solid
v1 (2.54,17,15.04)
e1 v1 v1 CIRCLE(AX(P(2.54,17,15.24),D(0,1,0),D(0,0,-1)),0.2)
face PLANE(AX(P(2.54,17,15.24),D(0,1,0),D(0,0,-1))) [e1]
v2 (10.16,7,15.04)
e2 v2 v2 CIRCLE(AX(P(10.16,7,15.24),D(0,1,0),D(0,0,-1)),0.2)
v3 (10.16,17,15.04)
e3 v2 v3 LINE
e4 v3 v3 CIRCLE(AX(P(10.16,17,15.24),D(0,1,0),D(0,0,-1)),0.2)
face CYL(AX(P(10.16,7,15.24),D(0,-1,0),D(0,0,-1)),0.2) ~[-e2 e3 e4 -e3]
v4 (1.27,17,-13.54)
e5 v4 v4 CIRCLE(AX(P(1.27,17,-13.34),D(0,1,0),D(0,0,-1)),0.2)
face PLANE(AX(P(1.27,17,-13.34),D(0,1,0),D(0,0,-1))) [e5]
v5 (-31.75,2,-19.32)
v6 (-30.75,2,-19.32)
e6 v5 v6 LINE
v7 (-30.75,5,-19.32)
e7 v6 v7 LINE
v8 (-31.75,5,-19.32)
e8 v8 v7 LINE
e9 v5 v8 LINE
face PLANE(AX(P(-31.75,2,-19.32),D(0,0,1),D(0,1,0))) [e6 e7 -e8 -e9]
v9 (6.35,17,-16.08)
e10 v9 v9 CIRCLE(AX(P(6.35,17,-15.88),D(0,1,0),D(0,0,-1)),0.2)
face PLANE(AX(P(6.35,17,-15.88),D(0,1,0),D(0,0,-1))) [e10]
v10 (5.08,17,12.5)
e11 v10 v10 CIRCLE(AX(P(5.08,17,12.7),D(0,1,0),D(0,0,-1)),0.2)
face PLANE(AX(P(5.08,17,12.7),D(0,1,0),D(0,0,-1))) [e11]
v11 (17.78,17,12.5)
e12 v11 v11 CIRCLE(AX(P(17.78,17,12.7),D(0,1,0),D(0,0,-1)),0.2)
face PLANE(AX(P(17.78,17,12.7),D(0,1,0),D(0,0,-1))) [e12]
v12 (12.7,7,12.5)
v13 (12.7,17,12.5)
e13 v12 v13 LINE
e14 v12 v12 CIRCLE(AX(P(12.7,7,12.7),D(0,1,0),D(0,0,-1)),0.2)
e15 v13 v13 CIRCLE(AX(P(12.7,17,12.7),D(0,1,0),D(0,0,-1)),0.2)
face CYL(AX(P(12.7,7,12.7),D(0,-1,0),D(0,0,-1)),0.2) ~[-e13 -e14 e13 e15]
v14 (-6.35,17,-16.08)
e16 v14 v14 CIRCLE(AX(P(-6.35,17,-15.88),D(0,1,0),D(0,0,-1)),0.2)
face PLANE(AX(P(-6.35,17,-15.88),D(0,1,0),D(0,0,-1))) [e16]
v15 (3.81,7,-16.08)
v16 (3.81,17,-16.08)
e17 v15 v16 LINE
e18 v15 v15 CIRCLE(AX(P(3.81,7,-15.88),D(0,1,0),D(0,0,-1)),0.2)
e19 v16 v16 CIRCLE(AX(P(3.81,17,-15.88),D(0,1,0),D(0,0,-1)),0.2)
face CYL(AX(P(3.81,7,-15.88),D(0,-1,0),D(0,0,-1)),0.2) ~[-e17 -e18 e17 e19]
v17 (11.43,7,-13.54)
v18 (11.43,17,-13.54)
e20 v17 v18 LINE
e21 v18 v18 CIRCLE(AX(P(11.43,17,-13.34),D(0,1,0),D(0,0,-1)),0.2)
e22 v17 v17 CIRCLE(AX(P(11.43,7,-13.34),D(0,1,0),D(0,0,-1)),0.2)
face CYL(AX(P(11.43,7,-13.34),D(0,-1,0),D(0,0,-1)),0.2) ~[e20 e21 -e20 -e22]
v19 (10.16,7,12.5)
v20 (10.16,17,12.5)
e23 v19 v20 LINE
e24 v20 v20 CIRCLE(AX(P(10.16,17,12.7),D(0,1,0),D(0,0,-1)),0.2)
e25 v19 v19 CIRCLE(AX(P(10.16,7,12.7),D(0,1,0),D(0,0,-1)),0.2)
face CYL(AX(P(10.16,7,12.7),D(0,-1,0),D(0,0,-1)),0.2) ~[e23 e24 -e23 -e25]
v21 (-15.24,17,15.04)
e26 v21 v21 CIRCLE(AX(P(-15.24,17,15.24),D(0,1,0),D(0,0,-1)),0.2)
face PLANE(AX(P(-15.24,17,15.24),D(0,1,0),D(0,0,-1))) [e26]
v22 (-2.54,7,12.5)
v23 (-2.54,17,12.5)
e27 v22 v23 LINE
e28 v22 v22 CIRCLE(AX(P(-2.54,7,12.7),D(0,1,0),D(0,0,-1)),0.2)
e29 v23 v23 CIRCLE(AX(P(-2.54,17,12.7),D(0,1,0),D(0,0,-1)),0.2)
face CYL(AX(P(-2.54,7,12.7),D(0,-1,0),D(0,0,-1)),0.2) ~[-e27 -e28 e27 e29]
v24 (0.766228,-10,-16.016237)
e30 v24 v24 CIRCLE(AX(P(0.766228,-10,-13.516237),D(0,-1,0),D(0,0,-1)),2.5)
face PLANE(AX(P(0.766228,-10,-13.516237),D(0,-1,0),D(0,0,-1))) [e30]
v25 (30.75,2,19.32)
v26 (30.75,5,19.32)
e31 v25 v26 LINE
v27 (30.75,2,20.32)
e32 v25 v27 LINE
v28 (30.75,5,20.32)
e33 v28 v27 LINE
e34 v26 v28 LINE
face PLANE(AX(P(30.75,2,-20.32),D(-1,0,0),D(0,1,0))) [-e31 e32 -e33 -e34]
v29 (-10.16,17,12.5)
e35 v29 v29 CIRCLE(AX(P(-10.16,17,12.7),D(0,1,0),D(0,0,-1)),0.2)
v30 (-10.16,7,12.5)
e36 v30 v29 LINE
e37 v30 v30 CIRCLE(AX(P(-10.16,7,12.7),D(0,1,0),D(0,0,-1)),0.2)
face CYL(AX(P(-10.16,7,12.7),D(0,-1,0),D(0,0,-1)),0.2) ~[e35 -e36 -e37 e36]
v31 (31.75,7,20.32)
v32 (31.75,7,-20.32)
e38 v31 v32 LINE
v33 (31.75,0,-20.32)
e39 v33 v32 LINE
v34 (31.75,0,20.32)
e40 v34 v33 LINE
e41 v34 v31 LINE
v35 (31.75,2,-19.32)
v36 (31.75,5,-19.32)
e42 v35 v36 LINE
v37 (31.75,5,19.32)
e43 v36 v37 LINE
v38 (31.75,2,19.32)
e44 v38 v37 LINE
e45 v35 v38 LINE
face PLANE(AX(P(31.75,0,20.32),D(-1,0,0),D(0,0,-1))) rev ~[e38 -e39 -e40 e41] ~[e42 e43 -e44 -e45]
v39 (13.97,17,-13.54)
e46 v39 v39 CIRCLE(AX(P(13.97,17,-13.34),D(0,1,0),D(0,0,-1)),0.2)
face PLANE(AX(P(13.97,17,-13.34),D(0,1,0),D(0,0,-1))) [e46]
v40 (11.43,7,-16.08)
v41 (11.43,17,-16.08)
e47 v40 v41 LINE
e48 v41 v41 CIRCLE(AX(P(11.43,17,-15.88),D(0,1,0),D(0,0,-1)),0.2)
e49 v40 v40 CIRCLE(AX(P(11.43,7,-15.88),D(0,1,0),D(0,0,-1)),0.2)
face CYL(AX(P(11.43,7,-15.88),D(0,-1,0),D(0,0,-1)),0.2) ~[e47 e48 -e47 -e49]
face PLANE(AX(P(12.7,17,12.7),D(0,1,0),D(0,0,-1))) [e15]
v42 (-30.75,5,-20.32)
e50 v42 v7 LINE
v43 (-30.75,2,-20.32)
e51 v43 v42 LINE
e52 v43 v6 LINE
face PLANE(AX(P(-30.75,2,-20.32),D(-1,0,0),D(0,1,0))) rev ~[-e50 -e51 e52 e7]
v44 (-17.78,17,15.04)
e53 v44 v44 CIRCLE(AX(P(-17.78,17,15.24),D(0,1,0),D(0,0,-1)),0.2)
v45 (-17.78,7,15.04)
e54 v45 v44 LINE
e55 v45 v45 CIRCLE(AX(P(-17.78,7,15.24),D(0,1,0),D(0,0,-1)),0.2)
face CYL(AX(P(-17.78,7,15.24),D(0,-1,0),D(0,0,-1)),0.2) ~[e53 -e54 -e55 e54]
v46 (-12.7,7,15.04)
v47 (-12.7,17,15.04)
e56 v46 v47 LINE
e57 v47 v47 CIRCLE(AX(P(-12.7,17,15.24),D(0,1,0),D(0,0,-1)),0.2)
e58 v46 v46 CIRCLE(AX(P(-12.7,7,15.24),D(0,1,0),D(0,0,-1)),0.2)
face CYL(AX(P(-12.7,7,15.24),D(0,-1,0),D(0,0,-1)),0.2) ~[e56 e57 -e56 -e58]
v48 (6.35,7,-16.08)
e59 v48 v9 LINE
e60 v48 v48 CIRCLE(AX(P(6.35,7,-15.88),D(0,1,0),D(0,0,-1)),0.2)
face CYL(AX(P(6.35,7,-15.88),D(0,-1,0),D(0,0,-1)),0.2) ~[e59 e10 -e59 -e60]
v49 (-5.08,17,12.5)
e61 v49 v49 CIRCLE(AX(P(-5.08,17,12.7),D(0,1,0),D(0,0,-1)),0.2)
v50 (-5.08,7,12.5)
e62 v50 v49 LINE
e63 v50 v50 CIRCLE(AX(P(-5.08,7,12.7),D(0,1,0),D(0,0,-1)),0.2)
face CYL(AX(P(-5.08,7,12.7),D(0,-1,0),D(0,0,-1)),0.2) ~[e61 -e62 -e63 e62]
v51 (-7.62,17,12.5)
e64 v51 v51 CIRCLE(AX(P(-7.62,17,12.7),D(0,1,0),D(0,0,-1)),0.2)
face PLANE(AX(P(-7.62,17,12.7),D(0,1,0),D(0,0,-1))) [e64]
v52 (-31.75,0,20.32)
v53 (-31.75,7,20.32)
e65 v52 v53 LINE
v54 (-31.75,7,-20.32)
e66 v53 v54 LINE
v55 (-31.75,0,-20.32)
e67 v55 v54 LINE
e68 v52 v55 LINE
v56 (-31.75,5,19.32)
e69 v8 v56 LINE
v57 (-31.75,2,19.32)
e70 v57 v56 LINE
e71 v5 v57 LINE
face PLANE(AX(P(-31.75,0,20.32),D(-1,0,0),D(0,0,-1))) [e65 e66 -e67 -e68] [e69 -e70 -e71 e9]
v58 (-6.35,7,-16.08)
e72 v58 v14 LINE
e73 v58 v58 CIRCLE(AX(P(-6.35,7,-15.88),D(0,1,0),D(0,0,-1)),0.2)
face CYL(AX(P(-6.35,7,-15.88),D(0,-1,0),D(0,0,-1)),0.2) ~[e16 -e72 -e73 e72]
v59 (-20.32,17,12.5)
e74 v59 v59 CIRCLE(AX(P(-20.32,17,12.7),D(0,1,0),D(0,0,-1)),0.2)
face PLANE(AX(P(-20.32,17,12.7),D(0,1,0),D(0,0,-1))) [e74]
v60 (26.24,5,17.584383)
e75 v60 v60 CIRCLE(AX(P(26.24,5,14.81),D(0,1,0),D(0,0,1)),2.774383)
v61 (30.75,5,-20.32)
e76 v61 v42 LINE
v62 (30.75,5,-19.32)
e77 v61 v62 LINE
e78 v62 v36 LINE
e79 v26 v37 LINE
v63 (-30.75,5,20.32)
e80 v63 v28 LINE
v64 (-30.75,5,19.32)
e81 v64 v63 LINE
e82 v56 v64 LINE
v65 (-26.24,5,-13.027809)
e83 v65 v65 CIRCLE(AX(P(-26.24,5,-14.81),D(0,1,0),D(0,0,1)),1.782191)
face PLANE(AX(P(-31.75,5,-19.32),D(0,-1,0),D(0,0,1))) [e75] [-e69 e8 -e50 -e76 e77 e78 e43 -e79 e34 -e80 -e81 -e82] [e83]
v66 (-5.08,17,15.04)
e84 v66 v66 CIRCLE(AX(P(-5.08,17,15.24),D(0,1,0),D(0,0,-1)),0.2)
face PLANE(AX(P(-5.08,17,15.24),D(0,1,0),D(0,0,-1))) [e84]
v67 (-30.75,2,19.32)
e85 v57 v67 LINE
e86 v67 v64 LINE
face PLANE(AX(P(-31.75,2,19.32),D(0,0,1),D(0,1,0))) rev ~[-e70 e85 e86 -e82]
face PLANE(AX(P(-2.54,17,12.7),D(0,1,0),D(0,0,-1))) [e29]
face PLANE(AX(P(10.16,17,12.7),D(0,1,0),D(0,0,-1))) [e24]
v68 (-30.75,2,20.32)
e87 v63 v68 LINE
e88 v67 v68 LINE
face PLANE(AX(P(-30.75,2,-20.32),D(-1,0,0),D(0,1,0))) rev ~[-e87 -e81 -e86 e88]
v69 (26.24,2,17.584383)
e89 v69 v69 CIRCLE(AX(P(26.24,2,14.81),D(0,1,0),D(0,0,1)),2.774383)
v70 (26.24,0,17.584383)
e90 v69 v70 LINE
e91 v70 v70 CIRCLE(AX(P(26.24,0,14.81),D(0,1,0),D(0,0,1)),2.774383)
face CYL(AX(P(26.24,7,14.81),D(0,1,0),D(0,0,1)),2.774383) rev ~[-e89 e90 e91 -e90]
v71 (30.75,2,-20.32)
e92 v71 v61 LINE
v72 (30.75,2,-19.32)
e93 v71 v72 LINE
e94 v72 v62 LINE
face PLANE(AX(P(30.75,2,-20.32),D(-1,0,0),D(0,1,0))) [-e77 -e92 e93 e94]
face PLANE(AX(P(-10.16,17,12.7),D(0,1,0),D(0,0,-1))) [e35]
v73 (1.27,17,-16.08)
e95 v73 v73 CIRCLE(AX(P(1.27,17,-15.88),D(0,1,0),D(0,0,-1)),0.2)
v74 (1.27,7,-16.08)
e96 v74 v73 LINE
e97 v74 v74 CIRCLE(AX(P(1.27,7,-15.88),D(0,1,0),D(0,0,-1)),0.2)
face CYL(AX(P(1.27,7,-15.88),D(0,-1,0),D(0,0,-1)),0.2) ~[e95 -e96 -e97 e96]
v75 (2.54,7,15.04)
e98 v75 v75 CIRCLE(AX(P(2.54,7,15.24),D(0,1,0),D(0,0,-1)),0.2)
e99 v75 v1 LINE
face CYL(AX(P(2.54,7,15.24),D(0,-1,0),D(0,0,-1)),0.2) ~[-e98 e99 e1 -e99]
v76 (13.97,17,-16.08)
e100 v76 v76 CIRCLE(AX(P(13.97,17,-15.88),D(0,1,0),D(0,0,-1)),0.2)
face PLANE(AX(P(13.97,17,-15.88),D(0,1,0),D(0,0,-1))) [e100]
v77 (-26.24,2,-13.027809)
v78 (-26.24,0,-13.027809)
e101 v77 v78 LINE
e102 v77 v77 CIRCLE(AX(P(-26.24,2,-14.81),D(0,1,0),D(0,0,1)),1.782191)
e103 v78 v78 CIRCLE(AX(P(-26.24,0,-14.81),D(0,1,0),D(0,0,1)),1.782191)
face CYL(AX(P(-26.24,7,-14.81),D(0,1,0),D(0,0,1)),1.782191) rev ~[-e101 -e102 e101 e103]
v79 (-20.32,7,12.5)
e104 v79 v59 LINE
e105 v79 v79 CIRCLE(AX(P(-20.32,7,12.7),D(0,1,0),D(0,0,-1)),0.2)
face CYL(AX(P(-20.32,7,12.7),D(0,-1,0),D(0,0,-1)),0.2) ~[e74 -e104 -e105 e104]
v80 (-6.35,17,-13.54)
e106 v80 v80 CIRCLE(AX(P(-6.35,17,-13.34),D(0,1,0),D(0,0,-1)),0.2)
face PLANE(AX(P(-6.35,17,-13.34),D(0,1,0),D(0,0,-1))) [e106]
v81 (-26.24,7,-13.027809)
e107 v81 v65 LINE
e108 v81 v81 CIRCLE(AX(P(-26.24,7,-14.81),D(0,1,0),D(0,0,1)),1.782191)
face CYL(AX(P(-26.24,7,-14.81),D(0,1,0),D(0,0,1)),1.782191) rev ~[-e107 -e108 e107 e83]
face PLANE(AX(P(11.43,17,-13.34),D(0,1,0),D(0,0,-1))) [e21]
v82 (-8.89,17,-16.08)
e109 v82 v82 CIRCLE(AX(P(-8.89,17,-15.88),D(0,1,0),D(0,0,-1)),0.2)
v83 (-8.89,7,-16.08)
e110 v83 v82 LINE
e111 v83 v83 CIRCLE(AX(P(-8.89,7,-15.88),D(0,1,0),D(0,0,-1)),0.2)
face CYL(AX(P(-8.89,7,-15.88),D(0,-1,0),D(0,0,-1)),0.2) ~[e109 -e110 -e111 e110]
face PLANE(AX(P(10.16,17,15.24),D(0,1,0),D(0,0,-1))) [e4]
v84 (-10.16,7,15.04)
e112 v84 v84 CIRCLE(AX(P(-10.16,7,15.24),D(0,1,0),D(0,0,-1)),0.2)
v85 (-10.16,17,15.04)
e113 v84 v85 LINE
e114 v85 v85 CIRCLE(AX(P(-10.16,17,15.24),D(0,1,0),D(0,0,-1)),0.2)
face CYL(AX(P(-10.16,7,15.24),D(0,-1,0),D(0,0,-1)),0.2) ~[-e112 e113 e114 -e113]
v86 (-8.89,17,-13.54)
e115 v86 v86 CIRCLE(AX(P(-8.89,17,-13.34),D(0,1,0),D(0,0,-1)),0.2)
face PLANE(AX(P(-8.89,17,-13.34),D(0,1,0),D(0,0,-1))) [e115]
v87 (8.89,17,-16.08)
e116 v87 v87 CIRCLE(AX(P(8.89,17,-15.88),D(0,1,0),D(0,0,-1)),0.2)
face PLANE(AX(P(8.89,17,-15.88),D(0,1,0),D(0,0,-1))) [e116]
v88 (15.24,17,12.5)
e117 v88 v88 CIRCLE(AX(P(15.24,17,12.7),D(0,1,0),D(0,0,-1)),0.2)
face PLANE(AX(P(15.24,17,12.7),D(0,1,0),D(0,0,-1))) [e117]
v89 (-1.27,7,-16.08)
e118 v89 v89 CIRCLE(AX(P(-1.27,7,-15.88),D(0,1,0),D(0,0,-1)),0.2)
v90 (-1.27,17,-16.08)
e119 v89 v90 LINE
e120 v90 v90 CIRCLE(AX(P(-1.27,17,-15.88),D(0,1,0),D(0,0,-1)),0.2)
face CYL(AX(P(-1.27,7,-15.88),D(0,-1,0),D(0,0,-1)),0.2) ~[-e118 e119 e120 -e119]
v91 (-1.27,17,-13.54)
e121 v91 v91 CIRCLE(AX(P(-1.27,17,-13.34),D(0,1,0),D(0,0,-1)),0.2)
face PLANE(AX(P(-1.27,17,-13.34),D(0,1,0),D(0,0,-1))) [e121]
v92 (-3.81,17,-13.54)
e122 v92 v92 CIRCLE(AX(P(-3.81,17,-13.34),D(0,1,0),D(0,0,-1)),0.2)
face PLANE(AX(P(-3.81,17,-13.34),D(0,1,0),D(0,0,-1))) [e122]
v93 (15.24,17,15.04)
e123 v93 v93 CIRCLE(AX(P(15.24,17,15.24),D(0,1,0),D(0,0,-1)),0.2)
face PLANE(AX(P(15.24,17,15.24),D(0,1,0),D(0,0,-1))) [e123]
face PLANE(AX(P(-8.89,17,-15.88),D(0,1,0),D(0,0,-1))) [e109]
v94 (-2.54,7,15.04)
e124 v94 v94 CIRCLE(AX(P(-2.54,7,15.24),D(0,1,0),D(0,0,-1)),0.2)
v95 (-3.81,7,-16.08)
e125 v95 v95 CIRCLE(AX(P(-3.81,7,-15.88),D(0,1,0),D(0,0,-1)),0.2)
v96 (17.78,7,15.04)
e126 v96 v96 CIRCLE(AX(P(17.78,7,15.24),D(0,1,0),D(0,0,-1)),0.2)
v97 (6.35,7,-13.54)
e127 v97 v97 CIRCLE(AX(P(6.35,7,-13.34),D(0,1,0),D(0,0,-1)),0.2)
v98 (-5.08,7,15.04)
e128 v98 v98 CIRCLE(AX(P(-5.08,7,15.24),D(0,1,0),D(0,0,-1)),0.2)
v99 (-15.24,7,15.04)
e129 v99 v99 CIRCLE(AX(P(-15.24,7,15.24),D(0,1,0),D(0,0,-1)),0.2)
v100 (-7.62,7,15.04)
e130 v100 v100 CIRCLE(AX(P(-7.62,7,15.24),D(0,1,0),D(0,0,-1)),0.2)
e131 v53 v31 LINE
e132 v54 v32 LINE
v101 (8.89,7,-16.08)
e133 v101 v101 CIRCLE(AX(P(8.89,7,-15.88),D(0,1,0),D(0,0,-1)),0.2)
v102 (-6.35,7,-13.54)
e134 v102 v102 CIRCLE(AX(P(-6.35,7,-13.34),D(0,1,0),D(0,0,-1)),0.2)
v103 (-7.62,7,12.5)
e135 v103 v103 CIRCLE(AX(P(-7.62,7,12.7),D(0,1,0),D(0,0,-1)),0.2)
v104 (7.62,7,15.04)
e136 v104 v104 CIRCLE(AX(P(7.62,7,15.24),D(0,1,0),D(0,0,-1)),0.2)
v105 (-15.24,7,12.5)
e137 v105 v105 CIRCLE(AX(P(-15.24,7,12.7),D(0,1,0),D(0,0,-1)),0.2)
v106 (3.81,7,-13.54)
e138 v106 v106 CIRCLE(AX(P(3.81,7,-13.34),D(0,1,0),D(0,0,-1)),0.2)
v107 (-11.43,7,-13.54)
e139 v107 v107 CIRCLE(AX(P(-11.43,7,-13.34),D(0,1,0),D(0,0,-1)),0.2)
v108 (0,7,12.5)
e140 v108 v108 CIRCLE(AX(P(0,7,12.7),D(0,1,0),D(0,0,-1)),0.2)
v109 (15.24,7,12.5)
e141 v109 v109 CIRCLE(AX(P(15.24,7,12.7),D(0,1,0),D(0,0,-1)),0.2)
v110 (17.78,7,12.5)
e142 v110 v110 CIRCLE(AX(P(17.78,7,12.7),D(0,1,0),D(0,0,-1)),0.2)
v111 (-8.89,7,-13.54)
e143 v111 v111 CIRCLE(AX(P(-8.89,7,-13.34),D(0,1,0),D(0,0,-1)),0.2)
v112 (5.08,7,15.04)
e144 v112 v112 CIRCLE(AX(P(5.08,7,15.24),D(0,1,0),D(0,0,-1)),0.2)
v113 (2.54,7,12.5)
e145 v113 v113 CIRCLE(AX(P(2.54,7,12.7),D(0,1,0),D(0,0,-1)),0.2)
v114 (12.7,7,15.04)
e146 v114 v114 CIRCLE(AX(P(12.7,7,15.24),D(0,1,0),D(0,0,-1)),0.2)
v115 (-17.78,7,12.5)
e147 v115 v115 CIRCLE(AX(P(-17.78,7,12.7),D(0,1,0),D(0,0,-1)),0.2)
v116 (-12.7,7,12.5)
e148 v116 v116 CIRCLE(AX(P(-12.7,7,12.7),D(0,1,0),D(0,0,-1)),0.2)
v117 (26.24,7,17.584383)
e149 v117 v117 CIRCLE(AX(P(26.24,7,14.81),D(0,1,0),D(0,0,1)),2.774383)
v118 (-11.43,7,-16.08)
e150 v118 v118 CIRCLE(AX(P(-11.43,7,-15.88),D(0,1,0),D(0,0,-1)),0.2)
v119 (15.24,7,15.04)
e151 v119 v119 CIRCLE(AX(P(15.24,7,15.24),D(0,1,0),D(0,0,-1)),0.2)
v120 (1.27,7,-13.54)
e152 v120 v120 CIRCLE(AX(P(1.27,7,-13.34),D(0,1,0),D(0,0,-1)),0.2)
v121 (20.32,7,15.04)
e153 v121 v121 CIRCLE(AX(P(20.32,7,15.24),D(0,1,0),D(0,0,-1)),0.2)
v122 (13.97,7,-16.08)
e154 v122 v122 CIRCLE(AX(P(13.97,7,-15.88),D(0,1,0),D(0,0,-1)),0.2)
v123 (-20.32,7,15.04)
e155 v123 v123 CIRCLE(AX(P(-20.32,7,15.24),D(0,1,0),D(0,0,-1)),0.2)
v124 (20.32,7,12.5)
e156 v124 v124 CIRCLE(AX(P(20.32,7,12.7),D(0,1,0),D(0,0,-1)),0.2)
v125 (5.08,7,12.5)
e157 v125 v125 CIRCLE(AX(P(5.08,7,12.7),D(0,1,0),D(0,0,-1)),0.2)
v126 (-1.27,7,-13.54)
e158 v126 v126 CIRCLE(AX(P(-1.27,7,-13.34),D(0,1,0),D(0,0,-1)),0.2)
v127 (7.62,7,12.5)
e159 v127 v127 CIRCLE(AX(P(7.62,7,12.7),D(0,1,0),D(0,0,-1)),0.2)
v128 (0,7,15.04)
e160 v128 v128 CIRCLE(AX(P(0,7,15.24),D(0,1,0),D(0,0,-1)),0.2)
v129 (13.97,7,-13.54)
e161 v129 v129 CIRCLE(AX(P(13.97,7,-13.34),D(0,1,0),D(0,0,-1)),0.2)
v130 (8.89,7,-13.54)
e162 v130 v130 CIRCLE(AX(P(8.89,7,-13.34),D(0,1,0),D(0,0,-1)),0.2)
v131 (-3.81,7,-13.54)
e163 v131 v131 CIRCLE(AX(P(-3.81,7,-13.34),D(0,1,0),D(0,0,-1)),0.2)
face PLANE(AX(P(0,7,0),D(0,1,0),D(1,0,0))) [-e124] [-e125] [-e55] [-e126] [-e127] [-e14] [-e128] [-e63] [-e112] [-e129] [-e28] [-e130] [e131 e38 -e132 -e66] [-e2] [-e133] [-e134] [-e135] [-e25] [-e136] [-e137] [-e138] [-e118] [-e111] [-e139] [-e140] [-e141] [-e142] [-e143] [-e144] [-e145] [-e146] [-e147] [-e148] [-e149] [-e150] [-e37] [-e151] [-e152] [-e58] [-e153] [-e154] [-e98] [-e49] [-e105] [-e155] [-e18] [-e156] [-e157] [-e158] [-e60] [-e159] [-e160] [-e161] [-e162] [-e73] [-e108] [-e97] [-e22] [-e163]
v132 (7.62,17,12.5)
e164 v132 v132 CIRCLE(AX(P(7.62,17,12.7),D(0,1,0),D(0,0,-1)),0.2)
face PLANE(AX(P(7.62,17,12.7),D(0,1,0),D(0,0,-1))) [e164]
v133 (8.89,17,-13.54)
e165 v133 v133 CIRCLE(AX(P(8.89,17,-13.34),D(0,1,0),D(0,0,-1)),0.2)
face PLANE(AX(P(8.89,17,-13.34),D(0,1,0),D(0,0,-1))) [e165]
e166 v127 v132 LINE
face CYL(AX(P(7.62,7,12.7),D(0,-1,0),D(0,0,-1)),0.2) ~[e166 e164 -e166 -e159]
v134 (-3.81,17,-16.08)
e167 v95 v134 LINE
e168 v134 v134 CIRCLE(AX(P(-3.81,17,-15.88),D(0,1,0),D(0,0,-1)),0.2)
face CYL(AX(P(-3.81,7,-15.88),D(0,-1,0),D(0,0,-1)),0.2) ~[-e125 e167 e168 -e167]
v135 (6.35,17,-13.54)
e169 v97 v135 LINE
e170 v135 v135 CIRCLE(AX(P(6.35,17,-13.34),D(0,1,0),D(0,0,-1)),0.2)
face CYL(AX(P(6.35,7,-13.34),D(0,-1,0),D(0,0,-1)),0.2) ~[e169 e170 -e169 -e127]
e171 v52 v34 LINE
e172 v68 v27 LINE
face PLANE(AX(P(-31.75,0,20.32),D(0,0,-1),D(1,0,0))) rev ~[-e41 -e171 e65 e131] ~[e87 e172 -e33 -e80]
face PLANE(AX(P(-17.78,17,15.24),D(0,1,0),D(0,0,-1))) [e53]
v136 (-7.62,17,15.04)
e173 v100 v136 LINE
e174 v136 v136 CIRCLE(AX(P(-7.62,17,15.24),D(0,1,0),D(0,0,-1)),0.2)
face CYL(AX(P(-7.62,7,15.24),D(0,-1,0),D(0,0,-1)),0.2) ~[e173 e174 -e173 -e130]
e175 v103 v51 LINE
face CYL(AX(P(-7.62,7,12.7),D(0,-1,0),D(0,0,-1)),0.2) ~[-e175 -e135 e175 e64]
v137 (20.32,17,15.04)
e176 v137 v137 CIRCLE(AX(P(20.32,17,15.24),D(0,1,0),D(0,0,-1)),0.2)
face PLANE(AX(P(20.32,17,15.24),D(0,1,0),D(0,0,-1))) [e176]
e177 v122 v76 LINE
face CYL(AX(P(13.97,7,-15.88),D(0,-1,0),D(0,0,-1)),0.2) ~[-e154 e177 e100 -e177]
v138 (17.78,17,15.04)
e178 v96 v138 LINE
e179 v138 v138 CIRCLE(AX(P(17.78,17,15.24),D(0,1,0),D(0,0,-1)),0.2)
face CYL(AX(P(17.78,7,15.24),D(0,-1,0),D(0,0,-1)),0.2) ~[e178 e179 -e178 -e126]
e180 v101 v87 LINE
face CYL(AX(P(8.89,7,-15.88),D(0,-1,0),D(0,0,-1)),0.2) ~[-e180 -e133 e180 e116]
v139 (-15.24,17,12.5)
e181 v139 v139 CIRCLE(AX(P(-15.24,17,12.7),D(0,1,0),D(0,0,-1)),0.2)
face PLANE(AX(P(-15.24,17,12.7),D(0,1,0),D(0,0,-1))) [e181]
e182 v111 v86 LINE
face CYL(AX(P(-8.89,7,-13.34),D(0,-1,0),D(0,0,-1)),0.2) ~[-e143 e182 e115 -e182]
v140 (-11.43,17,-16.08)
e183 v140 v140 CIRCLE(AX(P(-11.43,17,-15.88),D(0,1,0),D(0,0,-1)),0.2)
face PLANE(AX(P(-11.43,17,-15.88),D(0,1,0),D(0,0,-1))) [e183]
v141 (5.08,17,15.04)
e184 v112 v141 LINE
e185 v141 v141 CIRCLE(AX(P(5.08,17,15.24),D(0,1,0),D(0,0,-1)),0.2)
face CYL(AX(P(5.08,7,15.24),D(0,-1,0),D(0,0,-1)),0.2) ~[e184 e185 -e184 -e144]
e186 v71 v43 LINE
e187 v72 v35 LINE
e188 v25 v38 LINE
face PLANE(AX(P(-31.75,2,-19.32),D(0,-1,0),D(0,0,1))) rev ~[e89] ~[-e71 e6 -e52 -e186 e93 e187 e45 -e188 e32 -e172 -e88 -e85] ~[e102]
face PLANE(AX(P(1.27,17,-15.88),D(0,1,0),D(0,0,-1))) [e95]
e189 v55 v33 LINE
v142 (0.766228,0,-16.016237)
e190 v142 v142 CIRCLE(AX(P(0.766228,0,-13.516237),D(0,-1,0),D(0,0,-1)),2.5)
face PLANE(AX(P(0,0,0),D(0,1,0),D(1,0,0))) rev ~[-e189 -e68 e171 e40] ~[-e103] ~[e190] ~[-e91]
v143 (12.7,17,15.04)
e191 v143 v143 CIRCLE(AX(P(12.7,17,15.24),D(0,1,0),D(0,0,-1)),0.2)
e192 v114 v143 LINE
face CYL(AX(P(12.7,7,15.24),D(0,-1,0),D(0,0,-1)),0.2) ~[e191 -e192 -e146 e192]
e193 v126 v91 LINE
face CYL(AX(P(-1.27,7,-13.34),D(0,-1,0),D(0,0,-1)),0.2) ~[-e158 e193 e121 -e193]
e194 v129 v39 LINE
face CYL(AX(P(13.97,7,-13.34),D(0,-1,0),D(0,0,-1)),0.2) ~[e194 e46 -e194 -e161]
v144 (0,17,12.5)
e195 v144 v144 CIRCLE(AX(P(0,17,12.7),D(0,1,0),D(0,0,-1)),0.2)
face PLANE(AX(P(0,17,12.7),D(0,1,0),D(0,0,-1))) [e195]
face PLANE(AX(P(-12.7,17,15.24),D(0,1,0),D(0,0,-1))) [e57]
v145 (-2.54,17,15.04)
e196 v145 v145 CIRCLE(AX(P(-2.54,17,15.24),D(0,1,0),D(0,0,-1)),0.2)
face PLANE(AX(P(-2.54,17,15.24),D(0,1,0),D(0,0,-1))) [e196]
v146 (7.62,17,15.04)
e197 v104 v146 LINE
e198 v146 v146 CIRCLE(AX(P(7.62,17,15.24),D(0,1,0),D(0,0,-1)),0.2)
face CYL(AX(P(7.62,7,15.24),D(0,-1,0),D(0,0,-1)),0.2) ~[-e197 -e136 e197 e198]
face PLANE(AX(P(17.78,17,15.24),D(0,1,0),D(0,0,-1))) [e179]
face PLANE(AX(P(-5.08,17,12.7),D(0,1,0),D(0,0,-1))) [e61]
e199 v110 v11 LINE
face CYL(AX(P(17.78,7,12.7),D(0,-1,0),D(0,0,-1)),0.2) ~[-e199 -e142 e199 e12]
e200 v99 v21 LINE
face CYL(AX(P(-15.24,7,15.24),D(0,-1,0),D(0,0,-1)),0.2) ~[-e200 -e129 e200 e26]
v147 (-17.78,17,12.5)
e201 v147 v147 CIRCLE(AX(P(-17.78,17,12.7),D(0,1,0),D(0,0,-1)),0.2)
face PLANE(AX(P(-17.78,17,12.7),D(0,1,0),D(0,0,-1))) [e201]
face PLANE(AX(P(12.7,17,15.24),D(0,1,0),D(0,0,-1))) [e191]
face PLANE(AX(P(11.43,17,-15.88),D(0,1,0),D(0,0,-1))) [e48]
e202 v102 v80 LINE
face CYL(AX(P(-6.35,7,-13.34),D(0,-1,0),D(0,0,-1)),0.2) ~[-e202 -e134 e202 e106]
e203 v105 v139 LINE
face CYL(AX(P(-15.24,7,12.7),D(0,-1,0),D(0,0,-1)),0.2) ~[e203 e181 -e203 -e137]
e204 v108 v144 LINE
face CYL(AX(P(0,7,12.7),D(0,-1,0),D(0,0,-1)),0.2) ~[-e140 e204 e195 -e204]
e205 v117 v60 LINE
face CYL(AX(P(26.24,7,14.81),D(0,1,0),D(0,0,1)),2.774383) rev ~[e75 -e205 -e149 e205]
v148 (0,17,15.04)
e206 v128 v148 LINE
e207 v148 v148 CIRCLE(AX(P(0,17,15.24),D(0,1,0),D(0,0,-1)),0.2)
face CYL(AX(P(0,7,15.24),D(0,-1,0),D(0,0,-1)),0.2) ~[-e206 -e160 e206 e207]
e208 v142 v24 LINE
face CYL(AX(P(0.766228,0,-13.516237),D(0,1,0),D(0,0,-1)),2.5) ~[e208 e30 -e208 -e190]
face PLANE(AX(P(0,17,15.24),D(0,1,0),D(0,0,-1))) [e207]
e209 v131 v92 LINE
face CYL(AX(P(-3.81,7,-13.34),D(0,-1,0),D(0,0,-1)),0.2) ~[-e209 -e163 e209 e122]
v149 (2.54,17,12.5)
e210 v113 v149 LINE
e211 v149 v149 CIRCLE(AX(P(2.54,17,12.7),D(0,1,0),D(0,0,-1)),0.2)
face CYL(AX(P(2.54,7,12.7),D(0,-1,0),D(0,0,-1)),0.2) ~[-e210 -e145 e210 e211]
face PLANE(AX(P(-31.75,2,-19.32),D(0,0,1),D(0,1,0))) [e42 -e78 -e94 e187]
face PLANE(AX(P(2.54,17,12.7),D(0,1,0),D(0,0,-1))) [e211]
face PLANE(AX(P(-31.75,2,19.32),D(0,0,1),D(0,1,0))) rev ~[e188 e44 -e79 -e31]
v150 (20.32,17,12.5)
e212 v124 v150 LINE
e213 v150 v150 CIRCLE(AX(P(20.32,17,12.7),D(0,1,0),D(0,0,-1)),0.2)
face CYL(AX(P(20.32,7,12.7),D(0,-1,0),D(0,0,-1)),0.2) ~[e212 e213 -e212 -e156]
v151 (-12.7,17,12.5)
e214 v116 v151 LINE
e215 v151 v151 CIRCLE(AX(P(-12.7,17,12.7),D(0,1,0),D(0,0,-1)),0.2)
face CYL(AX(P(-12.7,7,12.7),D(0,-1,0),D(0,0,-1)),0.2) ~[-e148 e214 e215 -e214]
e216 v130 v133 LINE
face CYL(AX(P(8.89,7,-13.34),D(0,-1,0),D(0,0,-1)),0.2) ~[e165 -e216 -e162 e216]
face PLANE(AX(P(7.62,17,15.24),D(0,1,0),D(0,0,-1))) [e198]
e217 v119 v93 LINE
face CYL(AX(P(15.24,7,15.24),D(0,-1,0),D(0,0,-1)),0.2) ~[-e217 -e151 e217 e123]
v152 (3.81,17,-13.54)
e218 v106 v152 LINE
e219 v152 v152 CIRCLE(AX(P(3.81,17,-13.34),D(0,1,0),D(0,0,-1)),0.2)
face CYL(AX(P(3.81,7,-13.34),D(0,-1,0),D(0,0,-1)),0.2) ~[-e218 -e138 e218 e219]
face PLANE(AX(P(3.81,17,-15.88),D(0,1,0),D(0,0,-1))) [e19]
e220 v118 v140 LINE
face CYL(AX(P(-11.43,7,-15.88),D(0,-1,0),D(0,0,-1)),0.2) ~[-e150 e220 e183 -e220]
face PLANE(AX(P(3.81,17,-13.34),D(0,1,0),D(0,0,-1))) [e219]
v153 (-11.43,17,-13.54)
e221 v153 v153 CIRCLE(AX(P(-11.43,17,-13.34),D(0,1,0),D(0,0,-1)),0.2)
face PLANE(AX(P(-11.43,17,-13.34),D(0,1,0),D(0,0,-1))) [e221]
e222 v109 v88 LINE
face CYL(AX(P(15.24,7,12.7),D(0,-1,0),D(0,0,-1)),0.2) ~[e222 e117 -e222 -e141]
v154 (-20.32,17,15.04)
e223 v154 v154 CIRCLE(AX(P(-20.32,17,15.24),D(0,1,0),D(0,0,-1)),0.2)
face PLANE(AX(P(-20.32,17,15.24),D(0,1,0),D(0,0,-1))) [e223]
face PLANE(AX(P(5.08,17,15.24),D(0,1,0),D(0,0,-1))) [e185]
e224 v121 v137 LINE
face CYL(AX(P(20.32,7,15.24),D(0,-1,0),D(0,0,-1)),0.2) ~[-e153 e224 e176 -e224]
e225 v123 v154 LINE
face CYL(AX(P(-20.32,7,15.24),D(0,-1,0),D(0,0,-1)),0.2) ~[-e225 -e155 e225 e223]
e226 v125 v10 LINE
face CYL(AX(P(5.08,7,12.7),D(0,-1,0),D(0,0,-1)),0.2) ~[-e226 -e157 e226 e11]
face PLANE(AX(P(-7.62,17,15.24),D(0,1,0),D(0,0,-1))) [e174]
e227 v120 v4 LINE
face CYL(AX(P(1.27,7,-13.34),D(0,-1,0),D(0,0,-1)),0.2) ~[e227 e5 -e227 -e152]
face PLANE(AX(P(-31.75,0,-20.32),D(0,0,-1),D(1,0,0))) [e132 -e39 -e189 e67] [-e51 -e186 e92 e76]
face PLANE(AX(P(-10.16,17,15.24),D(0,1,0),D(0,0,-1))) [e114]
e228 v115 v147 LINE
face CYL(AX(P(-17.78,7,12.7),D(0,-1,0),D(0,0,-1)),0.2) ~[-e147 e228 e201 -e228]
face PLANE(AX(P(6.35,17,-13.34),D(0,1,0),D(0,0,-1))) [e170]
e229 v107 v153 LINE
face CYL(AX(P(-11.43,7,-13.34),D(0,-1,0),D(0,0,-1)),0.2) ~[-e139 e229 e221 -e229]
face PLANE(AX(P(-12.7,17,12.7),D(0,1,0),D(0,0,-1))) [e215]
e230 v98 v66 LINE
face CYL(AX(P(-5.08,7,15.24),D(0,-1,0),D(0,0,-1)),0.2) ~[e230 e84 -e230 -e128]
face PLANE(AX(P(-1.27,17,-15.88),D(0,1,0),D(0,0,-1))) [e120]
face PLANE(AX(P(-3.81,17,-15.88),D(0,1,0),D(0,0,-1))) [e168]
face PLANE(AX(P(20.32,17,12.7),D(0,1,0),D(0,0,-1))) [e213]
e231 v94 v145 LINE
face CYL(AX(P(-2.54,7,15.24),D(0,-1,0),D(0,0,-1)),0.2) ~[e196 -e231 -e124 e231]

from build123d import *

# Parameters (mm, degrees)
SKETCH_1_W                        = 63.5
SKETCH_1_H                        = 40.64
EXTRUDE_1_DEPTH                   = 7
CUT_EXTRUDE_1_REACH               = 54.045
SKETCH_2_W                        = 61.5
SKETCH_2_H                        = 3
SKETCH_3_W                        = 38.64
SKETCH_3_H                        = 3
CUT_EXTRUDE_2_DEPTH               = 68.038439719
SKETCH_4_R                        = 0.2
EXTRUDE_2_DEPTH                   = 10
PATTERN_LINEAR_1_COUNT            = 2
PATTERN_LINEAR_1_PITCH            = 2.54
PATTERN_LINEAR_2_COUNT            = 17
PATTERN_LINEAR_2_PITCH            = 2.54
PATTERN_LINEAR_2_COPY_1_SKETCH_R  = 0.2
PATTERN_LINEAR_2_COPY_1_DEPTH     = 10
PATTERN_LINEAR_2_COPY_2_SKETCH_R  = 0.2
PATTERN_LINEAR_2_COPY_2_DEPTH     = 10
PATTERN_LINEAR_2_COPY_3_SKETCH_R  = 0.2
PATTERN_LINEAR_2_COPY_3_DEPTH     = 10
PATTERN_LINEAR_2_COPY_4_SKETCH_R  = 0.2
PATTERN_LINEAR_2_COPY_4_DEPTH     = 10
PATTERN_LINEAR_2_COPY_5_SKETCH_R  = 0.2
PATTERN_LINEAR_2_COPY_5_DEPTH     = 10
PATTERN_LINEAR_2_COPY_6_SKETCH_R  = 0.2
PATTERN_LINEAR_2_COPY_6_DEPTH     = 10
PATTERN_LINEAR_2_COPY_7_SKETCH_R  = 0.2
PATTERN_LINEAR_2_COPY_7_DEPTH     = 10
PATTERN_LINEAR_2_COPY_8_SKETCH_R  = 0.2
PATTERN_LINEAR_2_COPY_8_DEPTH     = 10
PATTERN_LINEAR_2_COPY_9_SKETCH_R  = 0.2
PATTERN_LINEAR_2_COPY_9_DEPTH     = 10
PATTERN_LINEAR_2_COPY_10_SKETCH_R = 0.2
PATTERN_LINEAR_2_COPY_10_DEPTH    = 10
PATTERN_LINEAR_2_COPY_11_SKETCH_R = 0.2
PATTERN_LINEAR_2_COPY_11_DEPTH    = 10
PATTERN_LINEAR_2_COPY_12_SKETCH_R = 0.2
PATTERN_LINEAR_2_COPY_12_DEPTH    = 10
PATTERN_LINEAR_2_COPY_13_SKETCH_R = 0.2
PATTERN_LINEAR_2_COPY_13_DEPTH    = 10
PATTERN_LINEAR_2_COPY_14_SKETCH_R = 0.2
PATTERN_LINEAR_2_COPY_14_DEPTH    = 10
PATTERN_LINEAR_2_COPY_15_SKETCH_R = 0.2
PATTERN_LINEAR_2_COPY_15_DEPTH    = 10
PATTERN_LINEAR_2_COPY_16_SKETCH_R = 0.2
PATTERN_LINEAR_2_COPY_16_DEPTH    = 10
SKETCH_5_R                        = 0.2
EXTRUDE_3_DEPTH                   = 10
PATTERN_LINEAR_3_COUNT            = 2
PATTERN_LINEAR_3_PITCH            = 2.54
PATTERN_LINEAR_4_COUNT            = 11
PATTERN_LINEAR_4_PITCH            = 2.54
PATTERN_LINEAR_4_COPY_1_SKETCH_R  = 0.2
PATTERN_LINEAR_4_COPY_1_DEPTH     = 10
PATTERN_LINEAR_4_COPY_2_SKETCH_R  = 0.2
PATTERN_LINEAR_4_COPY_2_DEPTH     = 10
PATTERN_LINEAR_4_COPY_3_SKETCH_R  = 0.2
PATTERN_LINEAR_4_COPY_3_DEPTH     = 10
PATTERN_LINEAR_4_COPY_4_SKETCH_R  = 0.2
PATTERN_LINEAR_4_COPY_4_DEPTH     = 10
PATTERN_LINEAR_4_COPY_5_SKETCH_R  = 0.2
PATTERN_LINEAR_4_COPY_5_DEPTH     = 10
PATTERN_LINEAR_4_COPY_6_SKETCH_R  = 0.2
PATTERN_LINEAR_4_COPY_6_DEPTH     = 10
PATTERN_LINEAR_4_COPY_7_SKETCH_R  = 0.2
PATTERN_LINEAR_4_COPY_7_DEPTH     = 10
PATTERN_LINEAR_4_COPY_8_SKETCH_R  = 0.2
PATTERN_LINEAR_4_COPY_8_DEPTH     = 10
PATTERN_LINEAR_4_COPY_9_SKETCH_R  = 0.2
PATTERN_LINEAR_4_COPY_9_DEPTH     = 10
PATTERN_LINEAR_4_COPY_10_SKETCH_R = 0.2
PATTERN_LINEAR_4_COPY_10_DEPTH    = 10
SKETCH_6_R                        = 1.782191073
SKETCH_6_R_2                      = 2.774383424
CUT_EXTRUDE_3_DEPTH               = 39.999549997
SKETCH_8_R                        = 2.5
EXTRUDE_5_DEPTH                   = 10


with BuildPart() as part:
    # 草图1 → 凸台-拉伸1 (new body)
    with BuildSketch(Plane(origin=(0, 0, 0), x_dir=(1, 0, 0), z_dir=(0, 1, 0))):
        Rectangle(SKETCH_1_W, SKETCH_1_H)
    extrude(amount=EXTRUDE_1_DEPTH)

    # 草图2 → 切除-拉伸1 (cut, up to next)
    with BuildSketch(Plane(origin=(0, 0, -20.32), x_dir=(-1, 0, 0), z_dir=(0, 0, -1)), mode=Mode.PRIVATE) as cut_extrude_1_sk1:
        with Locations((0, 3.5)):
            Rectangle(SKETCH_2_W, SKETCH_2_H)
    cut_extrude_1_tool1 = extrude(cut_extrude_1_sk1.sketch, amount=-CUT_EXTRUDE_1_REACH, mode=Mode.PRIVATE) & part.part
    add(cut_extrude_1_tool1.solids().sort_by_distance((0, 3.5, -20.32))[0], mode=Mode.SUBTRACT)

    # 草图3 → 切除-拉伸2 (cut, through all)
    with BuildSketch(Plane.ZY.offset(31.75)):
        with Locations((0, 3.5)):
            Rectangle(SKETCH_3_W, SKETCH_3_H)
    extrude(amount=-CUT_EXTRUDE_2_DEPTH, mode=Mode.SUBTRACT)

    # 草图4 → 凸台-拉伸2 (add)
    with BuildSketch(Plane(origin=(0, 7, 0), x_dir=(1, 0, 0), z_dir=(0, 1, 0))):
        with Locations(Location((-20.32, -15.24, 0), (0, 0, 90))):
            Circle(SKETCH_4_R)
    extrude_2 = extrude(amount=EXTRUDE_2_DEPTH)

    # 阵列(线性)1: 凸台-拉伸2 ×2
    with Locations(*[(0, 0, -i * PATTERN_LINEAR_1_PITCH) for i in range(1, PATTERN_LINEAR_1_COUNT)]):
        add(extrude_2)

    # 阵列(线性)2: 凸台-拉伸2 ×17
    with Locations(*[(i * PATTERN_LINEAR_2_PITCH, 0, 0) for i in range(1, PATTERN_LINEAR_2_COUNT)]):
        add(extrude_2)

    # 阵列(线性)2 copy 1 sketch → 阵列(线性)2 copy 1 (add)
    with BuildSketch(Plane(origin=(2.54, 7, -2.54), x_dir=(1, 0, 0), z_dir=(0, 1, 0))):
        with Locations(Location((-20.32, -15.24, 0), (0, 0, 90))):
            Circle(PATTERN_LINEAR_2_COPY_1_SKETCH_R)
    extrude(amount=PATTERN_LINEAR_2_COPY_1_DEPTH)

    # 阵列(线性)2 copy 2 sketch → 阵列(线性)2 copy 2 (add)
    with BuildSketch(Plane(origin=(5.08, 7, -2.54), x_dir=(1, 0, 0), z_dir=(0, 1, 0))):
        with Locations(Location((-20.32, -15.24, 0), (0, 0, 90))):
            Circle(PATTERN_LINEAR_2_COPY_2_SKETCH_R)
    extrude(amount=PATTERN_LINEAR_2_COPY_2_DEPTH)

    # 阵列(线性)2 copy 3 sketch → 阵列(线性)2 copy 3 (add)
    with BuildSketch(Plane(origin=(7.62, 7, -2.54), x_dir=(1, 0, 0), z_dir=(0, 1, 0))):
        with Locations(Location((-20.32, -15.24, 0), (0, 0, 90))):
            Circle(PATTERN_LINEAR_2_COPY_3_SKETCH_R)
    extrude(amount=PATTERN_LINEAR_2_COPY_3_DEPTH)

    # 阵列(线性)2 copy 4 sketch → 阵列(线性)2 copy 4 (add)
    with BuildSketch(Plane(origin=(10.16, 7, -2.54), x_dir=(1, 0, 0), z_dir=(0, 1, 0))):
        with Locations(Location((-20.32, -15.24, 0), (0, 0, 90))):
            Circle(PATTERN_LINEAR_2_COPY_4_SKETCH_R)
    extrude(amount=PATTERN_LINEAR_2_COPY_4_DEPTH)

    # 阵列(线性)2 copy 5 sketch → 阵列(线性)2 copy 5 (add)
    with BuildSketch(Plane(origin=(12.7, 7, -2.54), x_dir=(1, 0, 0), z_dir=(0, 1, 0))):
        with Locations(Location((-20.32, -15.24, 0), (0, 0, 90))):
            Circle(PATTERN_LINEAR_2_COPY_5_SKETCH_R)
    extrude(amount=PATTERN_LINEAR_2_COPY_5_DEPTH)

    # 阵列(线性)2 copy 6 sketch → 阵列(线性)2 copy 6 (add)
    with BuildSketch(Plane(origin=(15.24, 7, -2.54), x_dir=(1, 0, 0), z_dir=(0, 1, 0))):
        with Locations(Location((-20.32, -15.24, 0), (0, 0, 90))):
            Circle(PATTERN_LINEAR_2_COPY_6_SKETCH_R)
    extrude(amount=PATTERN_LINEAR_2_COPY_6_DEPTH)

    # 阵列(线性)2 copy 7 sketch → 阵列(线性)2 copy 7 (add)
    with BuildSketch(Plane(origin=(17.78, 7, -2.54), x_dir=(1, 0, 0), z_dir=(0, 1, 0))):
        with Locations(Location((-20.32, -15.24, 0), (0, 0, 90))):
            Circle(PATTERN_LINEAR_2_COPY_7_SKETCH_R)
    extrude(amount=PATTERN_LINEAR_2_COPY_7_DEPTH)

    # 阵列(线性)2 copy 8 sketch → 阵列(线性)2 copy 8 (add)
    with BuildSketch(Plane(origin=(20.32, 7, -2.54), x_dir=(1, 0, 0), z_dir=(0, 1, 0))):
        with Locations(Location((-20.32, -15.24, 0), (0, 0, 90))):
            Circle(PATTERN_LINEAR_2_COPY_8_SKETCH_R)
    extrude(amount=PATTERN_LINEAR_2_COPY_8_DEPTH)

    # 阵列(线性)2 copy 9 sketch → 阵列(线性)2 copy 9 (add)
    with BuildSketch(Plane(origin=(22.86, 7, -2.54), x_dir=(1, 0, 0), z_dir=(0, 1, 0))):
        with Locations(Location((-20.32, -15.24, 0), (0, 0, 90))):
            Circle(PATTERN_LINEAR_2_COPY_9_SKETCH_R)
    extrude(amount=PATTERN_LINEAR_2_COPY_9_DEPTH)

    # 阵列(线性)2 copy 10 sketch → 阵列(线性)2 copy 10 (add)
    with BuildSketch(Plane(origin=(25.4, 7, -2.54), x_dir=(1, 0, 0), z_dir=(0, 1, 0))):
        with Locations(Location((-20.32, -15.24, 0), (0, 0, 90))):
            Circle(PATTERN_LINEAR_2_COPY_10_SKETCH_R)
    extrude(amount=PATTERN_LINEAR_2_COPY_10_DEPTH)

    # 阵列(线性)2 copy 11 sketch → 阵列(线性)2 copy 11 (add)
    with BuildSketch(Plane(origin=(27.94, 7, -2.54), x_dir=(1, 0, 0), z_dir=(0, 1, 0))):
        with Locations(Location((-20.32, -15.24, 0), (0, 0, 90))):
            Circle(PATTERN_LINEAR_2_COPY_11_SKETCH_R)
    extrude(amount=PATTERN_LINEAR_2_COPY_11_DEPTH)

    # 阵列(线性)2 copy 12 sketch → 阵列(线性)2 copy 12 (add)
    with BuildSketch(Plane(origin=(30.48, 7, -2.54), x_dir=(1, 0, 0), z_dir=(0, 1, 0))):
        with Locations(Location((-20.32, -15.24, 0), (0, 0, 90))):
            Circle(PATTERN_LINEAR_2_COPY_12_SKETCH_R)
    extrude(amount=PATTERN_LINEAR_2_COPY_12_DEPTH)

    # 阵列(线性)2 copy 13 sketch → 阵列(线性)2 copy 13 (add)
    with BuildSketch(Plane(origin=(33.02, 7, -2.54), x_dir=(1, 0, 0), z_dir=(0, 1, 0))):
        with Locations(Location((-20.32, -15.24, 0), (0, 0, 90))):
            Circle(PATTERN_LINEAR_2_COPY_13_SKETCH_R)
    extrude(amount=PATTERN_LINEAR_2_COPY_13_DEPTH)

    # 阵列(线性)2 copy 14 sketch → 阵列(线性)2 copy 14 (add)
    with BuildSketch(Plane(origin=(35.56, 7, -2.54), x_dir=(1, 0, 0), z_dir=(0, 1, 0))):
        with Locations(Location((-20.32, -15.24, 0), (0, 0, 90))):
            Circle(PATTERN_LINEAR_2_COPY_14_SKETCH_R)
    extrude(amount=PATTERN_LINEAR_2_COPY_14_DEPTH)

    # 阵列(线性)2 copy 15 sketch → 阵列(线性)2 copy 15 (add)
    with BuildSketch(Plane(origin=(38.1, 7, -2.54), x_dir=(1, 0, 0), z_dir=(0, 1, 0))):
        with Locations(Location((-20.32, -15.24, 0), (0, 0, 90))):
            Circle(PATTERN_LINEAR_2_COPY_15_SKETCH_R)
    extrude(amount=PATTERN_LINEAR_2_COPY_15_DEPTH)

    # 阵列(线性)2 copy 16 sketch → 阵列(线性)2 copy 16 (add)
    with BuildSketch(Plane(origin=(40.64, 7, -2.54), x_dir=(1, 0, 0), z_dir=(0, 1, 0))):
        with Locations(Location((-20.32, -15.24, 0), (0, 0, 90))):
            Circle(PATTERN_LINEAR_2_COPY_16_SKETCH_R)
    extrude(amount=PATTERN_LINEAR_2_COPY_16_DEPTH)

    # 草图5 → 凸台-拉伸3 (add)
    with BuildSketch(Plane(origin=(0, 7, 0), x_dir=(1, 0, 0), z_dir=(0, 1, 0))):
        with Locations(Location((-11.43, 13.34, 0), (0, 0, 90))):
            Circle(SKETCH_5_R)
    extrude_3 = extrude(amount=EXTRUDE_3_DEPTH)

    # 阵列(线性)3: 凸台-拉伸3 ×2
    with Locations(*[(0, 0, -i * PATTERN_LINEAR_3_PITCH) for i in range(1, PATTERN_LINEAR_3_COUNT)]):
        add(extrude_3)

    # 阵列(线性)4: 凸台-拉伸3 ×11
    with Locations(*[(i * PATTERN_LINEAR_4_PITCH, 0, 0) for i in range(1, PATTERN_LINEAR_4_COUNT)]):
        add(extrude_3)

    # 阵列(线性)4 copy 1 sketch → 阵列(线性)4 copy 1 (add)
    with BuildSketch(Plane(origin=(2.54, 7, -2.54), x_dir=(1, 0, 0), z_dir=(0, 1, 0))):
        with Locations(Location((-11.43, 13.34, 0), (0, 0, 90))):
            Circle(PATTERN_LINEAR_4_COPY_1_SKETCH_R)
    extrude(amount=PATTERN_LINEAR_4_COPY_1_DEPTH)

    # 阵列(线性)4 copy 2 sketch → 阵列(线性)4 copy 2 (add)
    with BuildSketch(Plane(origin=(5.08, 7, -2.54), x_dir=(1, 0, 0), z_dir=(0, 1, 0))):
        with Locations(Location((-11.43, 13.34, 0), (0, 0, 90))):
            Circle(PATTERN_LINEAR_4_COPY_2_SKETCH_R)
    extrude(amount=PATTERN_LINEAR_4_COPY_2_DEPTH)

    # 阵列(线性)4 copy 3 sketch → 阵列(线性)4 copy 3 (add)
    with BuildSketch(Plane(origin=(7.62, 7, -2.54), x_dir=(1, 0, 0), z_dir=(0, 1, 0))):
        with Locations(Location((-11.43, 13.34, 0), (0, 0, 90))):
            Circle(PATTERN_LINEAR_4_COPY_3_SKETCH_R)
    extrude(amount=PATTERN_LINEAR_4_COPY_3_DEPTH)

    # 阵列(线性)4 copy 4 sketch → 阵列(线性)4 copy 4 (add)
    with BuildSketch(Plane(origin=(10.16, 7, -2.54), x_dir=(1, 0, 0), z_dir=(0, 1, 0))):
        with Locations(Location((-11.43, 13.34, 0), (0, 0, 90))):
            Circle(PATTERN_LINEAR_4_COPY_4_SKETCH_R)
    extrude(amount=PATTERN_LINEAR_4_COPY_4_DEPTH)

    # 阵列(线性)4 copy 5 sketch → 阵列(线性)4 copy 5 (add)
    with BuildSketch(Plane(origin=(12.7, 7, -2.54), x_dir=(1, 0, 0), z_dir=(0, 1, 0))):
        with Locations(Location((-11.43, 13.34, 0), (0, 0, 90))):
            Circle(PATTERN_LINEAR_4_COPY_5_SKETCH_R)
    extrude(amount=PATTERN_LINEAR_4_COPY_5_DEPTH)

    # 阵列(线性)4 copy 6 sketch → 阵列(线性)4 copy 6 (add)
    with BuildSketch(Plane(origin=(15.24, 7, -2.54), x_dir=(1, 0, 0), z_dir=(0, 1, 0))):
        with Locations(Location((-11.43, 13.34, 0), (0, 0, 90))):
            Circle(PATTERN_LINEAR_4_COPY_6_SKETCH_R)
    extrude(amount=PATTERN_LINEAR_4_COPY_6_DEPTH)

    # 阵列(线性)4 copy 7 sketch → 阵列(线性)4 copy 7 (add)
    with BuildSketch(Plane(origin=(17.78, 7, -2.54), x_dir=(1, 0, 0), z_dir=(0, 1, 0))):
        with Locations(Location((-11.43, 13.34, 0), (0, 0, 90))):
            Circle(PATTERN_LINEAR_4_COPY_7_SKETCH_R)
    extrude(amount=PATTERN_LINEAR_4_COPY_7_DEPTH)

    # 阵列(线性)4 copy 8 sketch → 阵列(线性)4 copy 8 (add)
    with BuildSketch(Plane(origin=(20.32, 7, -2.54), x_dir=(1, 0, 0), z_dir=(0, 1, 0))):
        with Locations(Location((-11.43, 13.34, 0), (0, 0, 90))):
            Circle(PATTERN_LINEAR_4_COPY_8_SKETCH_R)
    extrude(amount=PATTERN_LINEAR_4_COPY_8_DEPTH)

    # 阵列(线性)4 copy 9 sketch → 阵列(线性)4 copy 9 (add)
    with BuildSketch(Plane(origin=(22.86, 7, -2.54), x_dir=(1, 0, 0), z_dir=(0, 1, 0))):
        with Locations(Location((-11.43, 13.34, 0), (0, 0, 90))):
            Circle(PATTERN_LINEAR_4_COPY_9_SKETCH_R)
    extrude(amount=PATTERN_LINEAR_4_COPY_9_DEPTH)

    # 阵列(线性)4 copy 10 sketch → 阵列(线性)4 copy 10 (add)
    with BuildSketch(Plane(origin=(25.4, 7, -2.54), x_dir=(1, 0, 0), z_dir=(0, 1, 0))):
        with Locations(Location((-11.43, 13.34, 0), (0, 0, 90))):
            Circle(PATTERN_LINEAR_4_COPY_10_SKETCH_R)
    extrude(amount=PATTERN_LINEAR_4_COPY_10_DEPTH)

    # 草图6 → 切除-拉伸3 (cut, through all)
    with BuildSketch(Plane(origin=(0, 7, 0), x_dir=(1, 0, 0), z_dir=(0, 1, 0))):
        with Locations(Location((-26.24, 14.81, 0), (0, 0, 270))):
            Circle(SKETCH_6_R)
        with Locations(Location((26.24, -14.81, 0), (0, 0, 270))):
            Circle(SKETCH_6_R_2)
    extrude(amount=-CUT_EXTRUDE_3_DEPTH, mode=Mode.SUBTRACT)

    # 草图8 → 凸台-拉伸5 (add)
    with BuildSketch(Plane(origin=(0, 0, 0), x_dir=(-1, 0, 0), z_dir=(0, -1, 0))):
        with Locations(Location((-0.766228361, 13.516236926, 0), (0, 0, 90))):
            Circle(SKETCH_8_R)
    extrude(amount=EXTRUDE_5_DEPTH)


solid = part.part
